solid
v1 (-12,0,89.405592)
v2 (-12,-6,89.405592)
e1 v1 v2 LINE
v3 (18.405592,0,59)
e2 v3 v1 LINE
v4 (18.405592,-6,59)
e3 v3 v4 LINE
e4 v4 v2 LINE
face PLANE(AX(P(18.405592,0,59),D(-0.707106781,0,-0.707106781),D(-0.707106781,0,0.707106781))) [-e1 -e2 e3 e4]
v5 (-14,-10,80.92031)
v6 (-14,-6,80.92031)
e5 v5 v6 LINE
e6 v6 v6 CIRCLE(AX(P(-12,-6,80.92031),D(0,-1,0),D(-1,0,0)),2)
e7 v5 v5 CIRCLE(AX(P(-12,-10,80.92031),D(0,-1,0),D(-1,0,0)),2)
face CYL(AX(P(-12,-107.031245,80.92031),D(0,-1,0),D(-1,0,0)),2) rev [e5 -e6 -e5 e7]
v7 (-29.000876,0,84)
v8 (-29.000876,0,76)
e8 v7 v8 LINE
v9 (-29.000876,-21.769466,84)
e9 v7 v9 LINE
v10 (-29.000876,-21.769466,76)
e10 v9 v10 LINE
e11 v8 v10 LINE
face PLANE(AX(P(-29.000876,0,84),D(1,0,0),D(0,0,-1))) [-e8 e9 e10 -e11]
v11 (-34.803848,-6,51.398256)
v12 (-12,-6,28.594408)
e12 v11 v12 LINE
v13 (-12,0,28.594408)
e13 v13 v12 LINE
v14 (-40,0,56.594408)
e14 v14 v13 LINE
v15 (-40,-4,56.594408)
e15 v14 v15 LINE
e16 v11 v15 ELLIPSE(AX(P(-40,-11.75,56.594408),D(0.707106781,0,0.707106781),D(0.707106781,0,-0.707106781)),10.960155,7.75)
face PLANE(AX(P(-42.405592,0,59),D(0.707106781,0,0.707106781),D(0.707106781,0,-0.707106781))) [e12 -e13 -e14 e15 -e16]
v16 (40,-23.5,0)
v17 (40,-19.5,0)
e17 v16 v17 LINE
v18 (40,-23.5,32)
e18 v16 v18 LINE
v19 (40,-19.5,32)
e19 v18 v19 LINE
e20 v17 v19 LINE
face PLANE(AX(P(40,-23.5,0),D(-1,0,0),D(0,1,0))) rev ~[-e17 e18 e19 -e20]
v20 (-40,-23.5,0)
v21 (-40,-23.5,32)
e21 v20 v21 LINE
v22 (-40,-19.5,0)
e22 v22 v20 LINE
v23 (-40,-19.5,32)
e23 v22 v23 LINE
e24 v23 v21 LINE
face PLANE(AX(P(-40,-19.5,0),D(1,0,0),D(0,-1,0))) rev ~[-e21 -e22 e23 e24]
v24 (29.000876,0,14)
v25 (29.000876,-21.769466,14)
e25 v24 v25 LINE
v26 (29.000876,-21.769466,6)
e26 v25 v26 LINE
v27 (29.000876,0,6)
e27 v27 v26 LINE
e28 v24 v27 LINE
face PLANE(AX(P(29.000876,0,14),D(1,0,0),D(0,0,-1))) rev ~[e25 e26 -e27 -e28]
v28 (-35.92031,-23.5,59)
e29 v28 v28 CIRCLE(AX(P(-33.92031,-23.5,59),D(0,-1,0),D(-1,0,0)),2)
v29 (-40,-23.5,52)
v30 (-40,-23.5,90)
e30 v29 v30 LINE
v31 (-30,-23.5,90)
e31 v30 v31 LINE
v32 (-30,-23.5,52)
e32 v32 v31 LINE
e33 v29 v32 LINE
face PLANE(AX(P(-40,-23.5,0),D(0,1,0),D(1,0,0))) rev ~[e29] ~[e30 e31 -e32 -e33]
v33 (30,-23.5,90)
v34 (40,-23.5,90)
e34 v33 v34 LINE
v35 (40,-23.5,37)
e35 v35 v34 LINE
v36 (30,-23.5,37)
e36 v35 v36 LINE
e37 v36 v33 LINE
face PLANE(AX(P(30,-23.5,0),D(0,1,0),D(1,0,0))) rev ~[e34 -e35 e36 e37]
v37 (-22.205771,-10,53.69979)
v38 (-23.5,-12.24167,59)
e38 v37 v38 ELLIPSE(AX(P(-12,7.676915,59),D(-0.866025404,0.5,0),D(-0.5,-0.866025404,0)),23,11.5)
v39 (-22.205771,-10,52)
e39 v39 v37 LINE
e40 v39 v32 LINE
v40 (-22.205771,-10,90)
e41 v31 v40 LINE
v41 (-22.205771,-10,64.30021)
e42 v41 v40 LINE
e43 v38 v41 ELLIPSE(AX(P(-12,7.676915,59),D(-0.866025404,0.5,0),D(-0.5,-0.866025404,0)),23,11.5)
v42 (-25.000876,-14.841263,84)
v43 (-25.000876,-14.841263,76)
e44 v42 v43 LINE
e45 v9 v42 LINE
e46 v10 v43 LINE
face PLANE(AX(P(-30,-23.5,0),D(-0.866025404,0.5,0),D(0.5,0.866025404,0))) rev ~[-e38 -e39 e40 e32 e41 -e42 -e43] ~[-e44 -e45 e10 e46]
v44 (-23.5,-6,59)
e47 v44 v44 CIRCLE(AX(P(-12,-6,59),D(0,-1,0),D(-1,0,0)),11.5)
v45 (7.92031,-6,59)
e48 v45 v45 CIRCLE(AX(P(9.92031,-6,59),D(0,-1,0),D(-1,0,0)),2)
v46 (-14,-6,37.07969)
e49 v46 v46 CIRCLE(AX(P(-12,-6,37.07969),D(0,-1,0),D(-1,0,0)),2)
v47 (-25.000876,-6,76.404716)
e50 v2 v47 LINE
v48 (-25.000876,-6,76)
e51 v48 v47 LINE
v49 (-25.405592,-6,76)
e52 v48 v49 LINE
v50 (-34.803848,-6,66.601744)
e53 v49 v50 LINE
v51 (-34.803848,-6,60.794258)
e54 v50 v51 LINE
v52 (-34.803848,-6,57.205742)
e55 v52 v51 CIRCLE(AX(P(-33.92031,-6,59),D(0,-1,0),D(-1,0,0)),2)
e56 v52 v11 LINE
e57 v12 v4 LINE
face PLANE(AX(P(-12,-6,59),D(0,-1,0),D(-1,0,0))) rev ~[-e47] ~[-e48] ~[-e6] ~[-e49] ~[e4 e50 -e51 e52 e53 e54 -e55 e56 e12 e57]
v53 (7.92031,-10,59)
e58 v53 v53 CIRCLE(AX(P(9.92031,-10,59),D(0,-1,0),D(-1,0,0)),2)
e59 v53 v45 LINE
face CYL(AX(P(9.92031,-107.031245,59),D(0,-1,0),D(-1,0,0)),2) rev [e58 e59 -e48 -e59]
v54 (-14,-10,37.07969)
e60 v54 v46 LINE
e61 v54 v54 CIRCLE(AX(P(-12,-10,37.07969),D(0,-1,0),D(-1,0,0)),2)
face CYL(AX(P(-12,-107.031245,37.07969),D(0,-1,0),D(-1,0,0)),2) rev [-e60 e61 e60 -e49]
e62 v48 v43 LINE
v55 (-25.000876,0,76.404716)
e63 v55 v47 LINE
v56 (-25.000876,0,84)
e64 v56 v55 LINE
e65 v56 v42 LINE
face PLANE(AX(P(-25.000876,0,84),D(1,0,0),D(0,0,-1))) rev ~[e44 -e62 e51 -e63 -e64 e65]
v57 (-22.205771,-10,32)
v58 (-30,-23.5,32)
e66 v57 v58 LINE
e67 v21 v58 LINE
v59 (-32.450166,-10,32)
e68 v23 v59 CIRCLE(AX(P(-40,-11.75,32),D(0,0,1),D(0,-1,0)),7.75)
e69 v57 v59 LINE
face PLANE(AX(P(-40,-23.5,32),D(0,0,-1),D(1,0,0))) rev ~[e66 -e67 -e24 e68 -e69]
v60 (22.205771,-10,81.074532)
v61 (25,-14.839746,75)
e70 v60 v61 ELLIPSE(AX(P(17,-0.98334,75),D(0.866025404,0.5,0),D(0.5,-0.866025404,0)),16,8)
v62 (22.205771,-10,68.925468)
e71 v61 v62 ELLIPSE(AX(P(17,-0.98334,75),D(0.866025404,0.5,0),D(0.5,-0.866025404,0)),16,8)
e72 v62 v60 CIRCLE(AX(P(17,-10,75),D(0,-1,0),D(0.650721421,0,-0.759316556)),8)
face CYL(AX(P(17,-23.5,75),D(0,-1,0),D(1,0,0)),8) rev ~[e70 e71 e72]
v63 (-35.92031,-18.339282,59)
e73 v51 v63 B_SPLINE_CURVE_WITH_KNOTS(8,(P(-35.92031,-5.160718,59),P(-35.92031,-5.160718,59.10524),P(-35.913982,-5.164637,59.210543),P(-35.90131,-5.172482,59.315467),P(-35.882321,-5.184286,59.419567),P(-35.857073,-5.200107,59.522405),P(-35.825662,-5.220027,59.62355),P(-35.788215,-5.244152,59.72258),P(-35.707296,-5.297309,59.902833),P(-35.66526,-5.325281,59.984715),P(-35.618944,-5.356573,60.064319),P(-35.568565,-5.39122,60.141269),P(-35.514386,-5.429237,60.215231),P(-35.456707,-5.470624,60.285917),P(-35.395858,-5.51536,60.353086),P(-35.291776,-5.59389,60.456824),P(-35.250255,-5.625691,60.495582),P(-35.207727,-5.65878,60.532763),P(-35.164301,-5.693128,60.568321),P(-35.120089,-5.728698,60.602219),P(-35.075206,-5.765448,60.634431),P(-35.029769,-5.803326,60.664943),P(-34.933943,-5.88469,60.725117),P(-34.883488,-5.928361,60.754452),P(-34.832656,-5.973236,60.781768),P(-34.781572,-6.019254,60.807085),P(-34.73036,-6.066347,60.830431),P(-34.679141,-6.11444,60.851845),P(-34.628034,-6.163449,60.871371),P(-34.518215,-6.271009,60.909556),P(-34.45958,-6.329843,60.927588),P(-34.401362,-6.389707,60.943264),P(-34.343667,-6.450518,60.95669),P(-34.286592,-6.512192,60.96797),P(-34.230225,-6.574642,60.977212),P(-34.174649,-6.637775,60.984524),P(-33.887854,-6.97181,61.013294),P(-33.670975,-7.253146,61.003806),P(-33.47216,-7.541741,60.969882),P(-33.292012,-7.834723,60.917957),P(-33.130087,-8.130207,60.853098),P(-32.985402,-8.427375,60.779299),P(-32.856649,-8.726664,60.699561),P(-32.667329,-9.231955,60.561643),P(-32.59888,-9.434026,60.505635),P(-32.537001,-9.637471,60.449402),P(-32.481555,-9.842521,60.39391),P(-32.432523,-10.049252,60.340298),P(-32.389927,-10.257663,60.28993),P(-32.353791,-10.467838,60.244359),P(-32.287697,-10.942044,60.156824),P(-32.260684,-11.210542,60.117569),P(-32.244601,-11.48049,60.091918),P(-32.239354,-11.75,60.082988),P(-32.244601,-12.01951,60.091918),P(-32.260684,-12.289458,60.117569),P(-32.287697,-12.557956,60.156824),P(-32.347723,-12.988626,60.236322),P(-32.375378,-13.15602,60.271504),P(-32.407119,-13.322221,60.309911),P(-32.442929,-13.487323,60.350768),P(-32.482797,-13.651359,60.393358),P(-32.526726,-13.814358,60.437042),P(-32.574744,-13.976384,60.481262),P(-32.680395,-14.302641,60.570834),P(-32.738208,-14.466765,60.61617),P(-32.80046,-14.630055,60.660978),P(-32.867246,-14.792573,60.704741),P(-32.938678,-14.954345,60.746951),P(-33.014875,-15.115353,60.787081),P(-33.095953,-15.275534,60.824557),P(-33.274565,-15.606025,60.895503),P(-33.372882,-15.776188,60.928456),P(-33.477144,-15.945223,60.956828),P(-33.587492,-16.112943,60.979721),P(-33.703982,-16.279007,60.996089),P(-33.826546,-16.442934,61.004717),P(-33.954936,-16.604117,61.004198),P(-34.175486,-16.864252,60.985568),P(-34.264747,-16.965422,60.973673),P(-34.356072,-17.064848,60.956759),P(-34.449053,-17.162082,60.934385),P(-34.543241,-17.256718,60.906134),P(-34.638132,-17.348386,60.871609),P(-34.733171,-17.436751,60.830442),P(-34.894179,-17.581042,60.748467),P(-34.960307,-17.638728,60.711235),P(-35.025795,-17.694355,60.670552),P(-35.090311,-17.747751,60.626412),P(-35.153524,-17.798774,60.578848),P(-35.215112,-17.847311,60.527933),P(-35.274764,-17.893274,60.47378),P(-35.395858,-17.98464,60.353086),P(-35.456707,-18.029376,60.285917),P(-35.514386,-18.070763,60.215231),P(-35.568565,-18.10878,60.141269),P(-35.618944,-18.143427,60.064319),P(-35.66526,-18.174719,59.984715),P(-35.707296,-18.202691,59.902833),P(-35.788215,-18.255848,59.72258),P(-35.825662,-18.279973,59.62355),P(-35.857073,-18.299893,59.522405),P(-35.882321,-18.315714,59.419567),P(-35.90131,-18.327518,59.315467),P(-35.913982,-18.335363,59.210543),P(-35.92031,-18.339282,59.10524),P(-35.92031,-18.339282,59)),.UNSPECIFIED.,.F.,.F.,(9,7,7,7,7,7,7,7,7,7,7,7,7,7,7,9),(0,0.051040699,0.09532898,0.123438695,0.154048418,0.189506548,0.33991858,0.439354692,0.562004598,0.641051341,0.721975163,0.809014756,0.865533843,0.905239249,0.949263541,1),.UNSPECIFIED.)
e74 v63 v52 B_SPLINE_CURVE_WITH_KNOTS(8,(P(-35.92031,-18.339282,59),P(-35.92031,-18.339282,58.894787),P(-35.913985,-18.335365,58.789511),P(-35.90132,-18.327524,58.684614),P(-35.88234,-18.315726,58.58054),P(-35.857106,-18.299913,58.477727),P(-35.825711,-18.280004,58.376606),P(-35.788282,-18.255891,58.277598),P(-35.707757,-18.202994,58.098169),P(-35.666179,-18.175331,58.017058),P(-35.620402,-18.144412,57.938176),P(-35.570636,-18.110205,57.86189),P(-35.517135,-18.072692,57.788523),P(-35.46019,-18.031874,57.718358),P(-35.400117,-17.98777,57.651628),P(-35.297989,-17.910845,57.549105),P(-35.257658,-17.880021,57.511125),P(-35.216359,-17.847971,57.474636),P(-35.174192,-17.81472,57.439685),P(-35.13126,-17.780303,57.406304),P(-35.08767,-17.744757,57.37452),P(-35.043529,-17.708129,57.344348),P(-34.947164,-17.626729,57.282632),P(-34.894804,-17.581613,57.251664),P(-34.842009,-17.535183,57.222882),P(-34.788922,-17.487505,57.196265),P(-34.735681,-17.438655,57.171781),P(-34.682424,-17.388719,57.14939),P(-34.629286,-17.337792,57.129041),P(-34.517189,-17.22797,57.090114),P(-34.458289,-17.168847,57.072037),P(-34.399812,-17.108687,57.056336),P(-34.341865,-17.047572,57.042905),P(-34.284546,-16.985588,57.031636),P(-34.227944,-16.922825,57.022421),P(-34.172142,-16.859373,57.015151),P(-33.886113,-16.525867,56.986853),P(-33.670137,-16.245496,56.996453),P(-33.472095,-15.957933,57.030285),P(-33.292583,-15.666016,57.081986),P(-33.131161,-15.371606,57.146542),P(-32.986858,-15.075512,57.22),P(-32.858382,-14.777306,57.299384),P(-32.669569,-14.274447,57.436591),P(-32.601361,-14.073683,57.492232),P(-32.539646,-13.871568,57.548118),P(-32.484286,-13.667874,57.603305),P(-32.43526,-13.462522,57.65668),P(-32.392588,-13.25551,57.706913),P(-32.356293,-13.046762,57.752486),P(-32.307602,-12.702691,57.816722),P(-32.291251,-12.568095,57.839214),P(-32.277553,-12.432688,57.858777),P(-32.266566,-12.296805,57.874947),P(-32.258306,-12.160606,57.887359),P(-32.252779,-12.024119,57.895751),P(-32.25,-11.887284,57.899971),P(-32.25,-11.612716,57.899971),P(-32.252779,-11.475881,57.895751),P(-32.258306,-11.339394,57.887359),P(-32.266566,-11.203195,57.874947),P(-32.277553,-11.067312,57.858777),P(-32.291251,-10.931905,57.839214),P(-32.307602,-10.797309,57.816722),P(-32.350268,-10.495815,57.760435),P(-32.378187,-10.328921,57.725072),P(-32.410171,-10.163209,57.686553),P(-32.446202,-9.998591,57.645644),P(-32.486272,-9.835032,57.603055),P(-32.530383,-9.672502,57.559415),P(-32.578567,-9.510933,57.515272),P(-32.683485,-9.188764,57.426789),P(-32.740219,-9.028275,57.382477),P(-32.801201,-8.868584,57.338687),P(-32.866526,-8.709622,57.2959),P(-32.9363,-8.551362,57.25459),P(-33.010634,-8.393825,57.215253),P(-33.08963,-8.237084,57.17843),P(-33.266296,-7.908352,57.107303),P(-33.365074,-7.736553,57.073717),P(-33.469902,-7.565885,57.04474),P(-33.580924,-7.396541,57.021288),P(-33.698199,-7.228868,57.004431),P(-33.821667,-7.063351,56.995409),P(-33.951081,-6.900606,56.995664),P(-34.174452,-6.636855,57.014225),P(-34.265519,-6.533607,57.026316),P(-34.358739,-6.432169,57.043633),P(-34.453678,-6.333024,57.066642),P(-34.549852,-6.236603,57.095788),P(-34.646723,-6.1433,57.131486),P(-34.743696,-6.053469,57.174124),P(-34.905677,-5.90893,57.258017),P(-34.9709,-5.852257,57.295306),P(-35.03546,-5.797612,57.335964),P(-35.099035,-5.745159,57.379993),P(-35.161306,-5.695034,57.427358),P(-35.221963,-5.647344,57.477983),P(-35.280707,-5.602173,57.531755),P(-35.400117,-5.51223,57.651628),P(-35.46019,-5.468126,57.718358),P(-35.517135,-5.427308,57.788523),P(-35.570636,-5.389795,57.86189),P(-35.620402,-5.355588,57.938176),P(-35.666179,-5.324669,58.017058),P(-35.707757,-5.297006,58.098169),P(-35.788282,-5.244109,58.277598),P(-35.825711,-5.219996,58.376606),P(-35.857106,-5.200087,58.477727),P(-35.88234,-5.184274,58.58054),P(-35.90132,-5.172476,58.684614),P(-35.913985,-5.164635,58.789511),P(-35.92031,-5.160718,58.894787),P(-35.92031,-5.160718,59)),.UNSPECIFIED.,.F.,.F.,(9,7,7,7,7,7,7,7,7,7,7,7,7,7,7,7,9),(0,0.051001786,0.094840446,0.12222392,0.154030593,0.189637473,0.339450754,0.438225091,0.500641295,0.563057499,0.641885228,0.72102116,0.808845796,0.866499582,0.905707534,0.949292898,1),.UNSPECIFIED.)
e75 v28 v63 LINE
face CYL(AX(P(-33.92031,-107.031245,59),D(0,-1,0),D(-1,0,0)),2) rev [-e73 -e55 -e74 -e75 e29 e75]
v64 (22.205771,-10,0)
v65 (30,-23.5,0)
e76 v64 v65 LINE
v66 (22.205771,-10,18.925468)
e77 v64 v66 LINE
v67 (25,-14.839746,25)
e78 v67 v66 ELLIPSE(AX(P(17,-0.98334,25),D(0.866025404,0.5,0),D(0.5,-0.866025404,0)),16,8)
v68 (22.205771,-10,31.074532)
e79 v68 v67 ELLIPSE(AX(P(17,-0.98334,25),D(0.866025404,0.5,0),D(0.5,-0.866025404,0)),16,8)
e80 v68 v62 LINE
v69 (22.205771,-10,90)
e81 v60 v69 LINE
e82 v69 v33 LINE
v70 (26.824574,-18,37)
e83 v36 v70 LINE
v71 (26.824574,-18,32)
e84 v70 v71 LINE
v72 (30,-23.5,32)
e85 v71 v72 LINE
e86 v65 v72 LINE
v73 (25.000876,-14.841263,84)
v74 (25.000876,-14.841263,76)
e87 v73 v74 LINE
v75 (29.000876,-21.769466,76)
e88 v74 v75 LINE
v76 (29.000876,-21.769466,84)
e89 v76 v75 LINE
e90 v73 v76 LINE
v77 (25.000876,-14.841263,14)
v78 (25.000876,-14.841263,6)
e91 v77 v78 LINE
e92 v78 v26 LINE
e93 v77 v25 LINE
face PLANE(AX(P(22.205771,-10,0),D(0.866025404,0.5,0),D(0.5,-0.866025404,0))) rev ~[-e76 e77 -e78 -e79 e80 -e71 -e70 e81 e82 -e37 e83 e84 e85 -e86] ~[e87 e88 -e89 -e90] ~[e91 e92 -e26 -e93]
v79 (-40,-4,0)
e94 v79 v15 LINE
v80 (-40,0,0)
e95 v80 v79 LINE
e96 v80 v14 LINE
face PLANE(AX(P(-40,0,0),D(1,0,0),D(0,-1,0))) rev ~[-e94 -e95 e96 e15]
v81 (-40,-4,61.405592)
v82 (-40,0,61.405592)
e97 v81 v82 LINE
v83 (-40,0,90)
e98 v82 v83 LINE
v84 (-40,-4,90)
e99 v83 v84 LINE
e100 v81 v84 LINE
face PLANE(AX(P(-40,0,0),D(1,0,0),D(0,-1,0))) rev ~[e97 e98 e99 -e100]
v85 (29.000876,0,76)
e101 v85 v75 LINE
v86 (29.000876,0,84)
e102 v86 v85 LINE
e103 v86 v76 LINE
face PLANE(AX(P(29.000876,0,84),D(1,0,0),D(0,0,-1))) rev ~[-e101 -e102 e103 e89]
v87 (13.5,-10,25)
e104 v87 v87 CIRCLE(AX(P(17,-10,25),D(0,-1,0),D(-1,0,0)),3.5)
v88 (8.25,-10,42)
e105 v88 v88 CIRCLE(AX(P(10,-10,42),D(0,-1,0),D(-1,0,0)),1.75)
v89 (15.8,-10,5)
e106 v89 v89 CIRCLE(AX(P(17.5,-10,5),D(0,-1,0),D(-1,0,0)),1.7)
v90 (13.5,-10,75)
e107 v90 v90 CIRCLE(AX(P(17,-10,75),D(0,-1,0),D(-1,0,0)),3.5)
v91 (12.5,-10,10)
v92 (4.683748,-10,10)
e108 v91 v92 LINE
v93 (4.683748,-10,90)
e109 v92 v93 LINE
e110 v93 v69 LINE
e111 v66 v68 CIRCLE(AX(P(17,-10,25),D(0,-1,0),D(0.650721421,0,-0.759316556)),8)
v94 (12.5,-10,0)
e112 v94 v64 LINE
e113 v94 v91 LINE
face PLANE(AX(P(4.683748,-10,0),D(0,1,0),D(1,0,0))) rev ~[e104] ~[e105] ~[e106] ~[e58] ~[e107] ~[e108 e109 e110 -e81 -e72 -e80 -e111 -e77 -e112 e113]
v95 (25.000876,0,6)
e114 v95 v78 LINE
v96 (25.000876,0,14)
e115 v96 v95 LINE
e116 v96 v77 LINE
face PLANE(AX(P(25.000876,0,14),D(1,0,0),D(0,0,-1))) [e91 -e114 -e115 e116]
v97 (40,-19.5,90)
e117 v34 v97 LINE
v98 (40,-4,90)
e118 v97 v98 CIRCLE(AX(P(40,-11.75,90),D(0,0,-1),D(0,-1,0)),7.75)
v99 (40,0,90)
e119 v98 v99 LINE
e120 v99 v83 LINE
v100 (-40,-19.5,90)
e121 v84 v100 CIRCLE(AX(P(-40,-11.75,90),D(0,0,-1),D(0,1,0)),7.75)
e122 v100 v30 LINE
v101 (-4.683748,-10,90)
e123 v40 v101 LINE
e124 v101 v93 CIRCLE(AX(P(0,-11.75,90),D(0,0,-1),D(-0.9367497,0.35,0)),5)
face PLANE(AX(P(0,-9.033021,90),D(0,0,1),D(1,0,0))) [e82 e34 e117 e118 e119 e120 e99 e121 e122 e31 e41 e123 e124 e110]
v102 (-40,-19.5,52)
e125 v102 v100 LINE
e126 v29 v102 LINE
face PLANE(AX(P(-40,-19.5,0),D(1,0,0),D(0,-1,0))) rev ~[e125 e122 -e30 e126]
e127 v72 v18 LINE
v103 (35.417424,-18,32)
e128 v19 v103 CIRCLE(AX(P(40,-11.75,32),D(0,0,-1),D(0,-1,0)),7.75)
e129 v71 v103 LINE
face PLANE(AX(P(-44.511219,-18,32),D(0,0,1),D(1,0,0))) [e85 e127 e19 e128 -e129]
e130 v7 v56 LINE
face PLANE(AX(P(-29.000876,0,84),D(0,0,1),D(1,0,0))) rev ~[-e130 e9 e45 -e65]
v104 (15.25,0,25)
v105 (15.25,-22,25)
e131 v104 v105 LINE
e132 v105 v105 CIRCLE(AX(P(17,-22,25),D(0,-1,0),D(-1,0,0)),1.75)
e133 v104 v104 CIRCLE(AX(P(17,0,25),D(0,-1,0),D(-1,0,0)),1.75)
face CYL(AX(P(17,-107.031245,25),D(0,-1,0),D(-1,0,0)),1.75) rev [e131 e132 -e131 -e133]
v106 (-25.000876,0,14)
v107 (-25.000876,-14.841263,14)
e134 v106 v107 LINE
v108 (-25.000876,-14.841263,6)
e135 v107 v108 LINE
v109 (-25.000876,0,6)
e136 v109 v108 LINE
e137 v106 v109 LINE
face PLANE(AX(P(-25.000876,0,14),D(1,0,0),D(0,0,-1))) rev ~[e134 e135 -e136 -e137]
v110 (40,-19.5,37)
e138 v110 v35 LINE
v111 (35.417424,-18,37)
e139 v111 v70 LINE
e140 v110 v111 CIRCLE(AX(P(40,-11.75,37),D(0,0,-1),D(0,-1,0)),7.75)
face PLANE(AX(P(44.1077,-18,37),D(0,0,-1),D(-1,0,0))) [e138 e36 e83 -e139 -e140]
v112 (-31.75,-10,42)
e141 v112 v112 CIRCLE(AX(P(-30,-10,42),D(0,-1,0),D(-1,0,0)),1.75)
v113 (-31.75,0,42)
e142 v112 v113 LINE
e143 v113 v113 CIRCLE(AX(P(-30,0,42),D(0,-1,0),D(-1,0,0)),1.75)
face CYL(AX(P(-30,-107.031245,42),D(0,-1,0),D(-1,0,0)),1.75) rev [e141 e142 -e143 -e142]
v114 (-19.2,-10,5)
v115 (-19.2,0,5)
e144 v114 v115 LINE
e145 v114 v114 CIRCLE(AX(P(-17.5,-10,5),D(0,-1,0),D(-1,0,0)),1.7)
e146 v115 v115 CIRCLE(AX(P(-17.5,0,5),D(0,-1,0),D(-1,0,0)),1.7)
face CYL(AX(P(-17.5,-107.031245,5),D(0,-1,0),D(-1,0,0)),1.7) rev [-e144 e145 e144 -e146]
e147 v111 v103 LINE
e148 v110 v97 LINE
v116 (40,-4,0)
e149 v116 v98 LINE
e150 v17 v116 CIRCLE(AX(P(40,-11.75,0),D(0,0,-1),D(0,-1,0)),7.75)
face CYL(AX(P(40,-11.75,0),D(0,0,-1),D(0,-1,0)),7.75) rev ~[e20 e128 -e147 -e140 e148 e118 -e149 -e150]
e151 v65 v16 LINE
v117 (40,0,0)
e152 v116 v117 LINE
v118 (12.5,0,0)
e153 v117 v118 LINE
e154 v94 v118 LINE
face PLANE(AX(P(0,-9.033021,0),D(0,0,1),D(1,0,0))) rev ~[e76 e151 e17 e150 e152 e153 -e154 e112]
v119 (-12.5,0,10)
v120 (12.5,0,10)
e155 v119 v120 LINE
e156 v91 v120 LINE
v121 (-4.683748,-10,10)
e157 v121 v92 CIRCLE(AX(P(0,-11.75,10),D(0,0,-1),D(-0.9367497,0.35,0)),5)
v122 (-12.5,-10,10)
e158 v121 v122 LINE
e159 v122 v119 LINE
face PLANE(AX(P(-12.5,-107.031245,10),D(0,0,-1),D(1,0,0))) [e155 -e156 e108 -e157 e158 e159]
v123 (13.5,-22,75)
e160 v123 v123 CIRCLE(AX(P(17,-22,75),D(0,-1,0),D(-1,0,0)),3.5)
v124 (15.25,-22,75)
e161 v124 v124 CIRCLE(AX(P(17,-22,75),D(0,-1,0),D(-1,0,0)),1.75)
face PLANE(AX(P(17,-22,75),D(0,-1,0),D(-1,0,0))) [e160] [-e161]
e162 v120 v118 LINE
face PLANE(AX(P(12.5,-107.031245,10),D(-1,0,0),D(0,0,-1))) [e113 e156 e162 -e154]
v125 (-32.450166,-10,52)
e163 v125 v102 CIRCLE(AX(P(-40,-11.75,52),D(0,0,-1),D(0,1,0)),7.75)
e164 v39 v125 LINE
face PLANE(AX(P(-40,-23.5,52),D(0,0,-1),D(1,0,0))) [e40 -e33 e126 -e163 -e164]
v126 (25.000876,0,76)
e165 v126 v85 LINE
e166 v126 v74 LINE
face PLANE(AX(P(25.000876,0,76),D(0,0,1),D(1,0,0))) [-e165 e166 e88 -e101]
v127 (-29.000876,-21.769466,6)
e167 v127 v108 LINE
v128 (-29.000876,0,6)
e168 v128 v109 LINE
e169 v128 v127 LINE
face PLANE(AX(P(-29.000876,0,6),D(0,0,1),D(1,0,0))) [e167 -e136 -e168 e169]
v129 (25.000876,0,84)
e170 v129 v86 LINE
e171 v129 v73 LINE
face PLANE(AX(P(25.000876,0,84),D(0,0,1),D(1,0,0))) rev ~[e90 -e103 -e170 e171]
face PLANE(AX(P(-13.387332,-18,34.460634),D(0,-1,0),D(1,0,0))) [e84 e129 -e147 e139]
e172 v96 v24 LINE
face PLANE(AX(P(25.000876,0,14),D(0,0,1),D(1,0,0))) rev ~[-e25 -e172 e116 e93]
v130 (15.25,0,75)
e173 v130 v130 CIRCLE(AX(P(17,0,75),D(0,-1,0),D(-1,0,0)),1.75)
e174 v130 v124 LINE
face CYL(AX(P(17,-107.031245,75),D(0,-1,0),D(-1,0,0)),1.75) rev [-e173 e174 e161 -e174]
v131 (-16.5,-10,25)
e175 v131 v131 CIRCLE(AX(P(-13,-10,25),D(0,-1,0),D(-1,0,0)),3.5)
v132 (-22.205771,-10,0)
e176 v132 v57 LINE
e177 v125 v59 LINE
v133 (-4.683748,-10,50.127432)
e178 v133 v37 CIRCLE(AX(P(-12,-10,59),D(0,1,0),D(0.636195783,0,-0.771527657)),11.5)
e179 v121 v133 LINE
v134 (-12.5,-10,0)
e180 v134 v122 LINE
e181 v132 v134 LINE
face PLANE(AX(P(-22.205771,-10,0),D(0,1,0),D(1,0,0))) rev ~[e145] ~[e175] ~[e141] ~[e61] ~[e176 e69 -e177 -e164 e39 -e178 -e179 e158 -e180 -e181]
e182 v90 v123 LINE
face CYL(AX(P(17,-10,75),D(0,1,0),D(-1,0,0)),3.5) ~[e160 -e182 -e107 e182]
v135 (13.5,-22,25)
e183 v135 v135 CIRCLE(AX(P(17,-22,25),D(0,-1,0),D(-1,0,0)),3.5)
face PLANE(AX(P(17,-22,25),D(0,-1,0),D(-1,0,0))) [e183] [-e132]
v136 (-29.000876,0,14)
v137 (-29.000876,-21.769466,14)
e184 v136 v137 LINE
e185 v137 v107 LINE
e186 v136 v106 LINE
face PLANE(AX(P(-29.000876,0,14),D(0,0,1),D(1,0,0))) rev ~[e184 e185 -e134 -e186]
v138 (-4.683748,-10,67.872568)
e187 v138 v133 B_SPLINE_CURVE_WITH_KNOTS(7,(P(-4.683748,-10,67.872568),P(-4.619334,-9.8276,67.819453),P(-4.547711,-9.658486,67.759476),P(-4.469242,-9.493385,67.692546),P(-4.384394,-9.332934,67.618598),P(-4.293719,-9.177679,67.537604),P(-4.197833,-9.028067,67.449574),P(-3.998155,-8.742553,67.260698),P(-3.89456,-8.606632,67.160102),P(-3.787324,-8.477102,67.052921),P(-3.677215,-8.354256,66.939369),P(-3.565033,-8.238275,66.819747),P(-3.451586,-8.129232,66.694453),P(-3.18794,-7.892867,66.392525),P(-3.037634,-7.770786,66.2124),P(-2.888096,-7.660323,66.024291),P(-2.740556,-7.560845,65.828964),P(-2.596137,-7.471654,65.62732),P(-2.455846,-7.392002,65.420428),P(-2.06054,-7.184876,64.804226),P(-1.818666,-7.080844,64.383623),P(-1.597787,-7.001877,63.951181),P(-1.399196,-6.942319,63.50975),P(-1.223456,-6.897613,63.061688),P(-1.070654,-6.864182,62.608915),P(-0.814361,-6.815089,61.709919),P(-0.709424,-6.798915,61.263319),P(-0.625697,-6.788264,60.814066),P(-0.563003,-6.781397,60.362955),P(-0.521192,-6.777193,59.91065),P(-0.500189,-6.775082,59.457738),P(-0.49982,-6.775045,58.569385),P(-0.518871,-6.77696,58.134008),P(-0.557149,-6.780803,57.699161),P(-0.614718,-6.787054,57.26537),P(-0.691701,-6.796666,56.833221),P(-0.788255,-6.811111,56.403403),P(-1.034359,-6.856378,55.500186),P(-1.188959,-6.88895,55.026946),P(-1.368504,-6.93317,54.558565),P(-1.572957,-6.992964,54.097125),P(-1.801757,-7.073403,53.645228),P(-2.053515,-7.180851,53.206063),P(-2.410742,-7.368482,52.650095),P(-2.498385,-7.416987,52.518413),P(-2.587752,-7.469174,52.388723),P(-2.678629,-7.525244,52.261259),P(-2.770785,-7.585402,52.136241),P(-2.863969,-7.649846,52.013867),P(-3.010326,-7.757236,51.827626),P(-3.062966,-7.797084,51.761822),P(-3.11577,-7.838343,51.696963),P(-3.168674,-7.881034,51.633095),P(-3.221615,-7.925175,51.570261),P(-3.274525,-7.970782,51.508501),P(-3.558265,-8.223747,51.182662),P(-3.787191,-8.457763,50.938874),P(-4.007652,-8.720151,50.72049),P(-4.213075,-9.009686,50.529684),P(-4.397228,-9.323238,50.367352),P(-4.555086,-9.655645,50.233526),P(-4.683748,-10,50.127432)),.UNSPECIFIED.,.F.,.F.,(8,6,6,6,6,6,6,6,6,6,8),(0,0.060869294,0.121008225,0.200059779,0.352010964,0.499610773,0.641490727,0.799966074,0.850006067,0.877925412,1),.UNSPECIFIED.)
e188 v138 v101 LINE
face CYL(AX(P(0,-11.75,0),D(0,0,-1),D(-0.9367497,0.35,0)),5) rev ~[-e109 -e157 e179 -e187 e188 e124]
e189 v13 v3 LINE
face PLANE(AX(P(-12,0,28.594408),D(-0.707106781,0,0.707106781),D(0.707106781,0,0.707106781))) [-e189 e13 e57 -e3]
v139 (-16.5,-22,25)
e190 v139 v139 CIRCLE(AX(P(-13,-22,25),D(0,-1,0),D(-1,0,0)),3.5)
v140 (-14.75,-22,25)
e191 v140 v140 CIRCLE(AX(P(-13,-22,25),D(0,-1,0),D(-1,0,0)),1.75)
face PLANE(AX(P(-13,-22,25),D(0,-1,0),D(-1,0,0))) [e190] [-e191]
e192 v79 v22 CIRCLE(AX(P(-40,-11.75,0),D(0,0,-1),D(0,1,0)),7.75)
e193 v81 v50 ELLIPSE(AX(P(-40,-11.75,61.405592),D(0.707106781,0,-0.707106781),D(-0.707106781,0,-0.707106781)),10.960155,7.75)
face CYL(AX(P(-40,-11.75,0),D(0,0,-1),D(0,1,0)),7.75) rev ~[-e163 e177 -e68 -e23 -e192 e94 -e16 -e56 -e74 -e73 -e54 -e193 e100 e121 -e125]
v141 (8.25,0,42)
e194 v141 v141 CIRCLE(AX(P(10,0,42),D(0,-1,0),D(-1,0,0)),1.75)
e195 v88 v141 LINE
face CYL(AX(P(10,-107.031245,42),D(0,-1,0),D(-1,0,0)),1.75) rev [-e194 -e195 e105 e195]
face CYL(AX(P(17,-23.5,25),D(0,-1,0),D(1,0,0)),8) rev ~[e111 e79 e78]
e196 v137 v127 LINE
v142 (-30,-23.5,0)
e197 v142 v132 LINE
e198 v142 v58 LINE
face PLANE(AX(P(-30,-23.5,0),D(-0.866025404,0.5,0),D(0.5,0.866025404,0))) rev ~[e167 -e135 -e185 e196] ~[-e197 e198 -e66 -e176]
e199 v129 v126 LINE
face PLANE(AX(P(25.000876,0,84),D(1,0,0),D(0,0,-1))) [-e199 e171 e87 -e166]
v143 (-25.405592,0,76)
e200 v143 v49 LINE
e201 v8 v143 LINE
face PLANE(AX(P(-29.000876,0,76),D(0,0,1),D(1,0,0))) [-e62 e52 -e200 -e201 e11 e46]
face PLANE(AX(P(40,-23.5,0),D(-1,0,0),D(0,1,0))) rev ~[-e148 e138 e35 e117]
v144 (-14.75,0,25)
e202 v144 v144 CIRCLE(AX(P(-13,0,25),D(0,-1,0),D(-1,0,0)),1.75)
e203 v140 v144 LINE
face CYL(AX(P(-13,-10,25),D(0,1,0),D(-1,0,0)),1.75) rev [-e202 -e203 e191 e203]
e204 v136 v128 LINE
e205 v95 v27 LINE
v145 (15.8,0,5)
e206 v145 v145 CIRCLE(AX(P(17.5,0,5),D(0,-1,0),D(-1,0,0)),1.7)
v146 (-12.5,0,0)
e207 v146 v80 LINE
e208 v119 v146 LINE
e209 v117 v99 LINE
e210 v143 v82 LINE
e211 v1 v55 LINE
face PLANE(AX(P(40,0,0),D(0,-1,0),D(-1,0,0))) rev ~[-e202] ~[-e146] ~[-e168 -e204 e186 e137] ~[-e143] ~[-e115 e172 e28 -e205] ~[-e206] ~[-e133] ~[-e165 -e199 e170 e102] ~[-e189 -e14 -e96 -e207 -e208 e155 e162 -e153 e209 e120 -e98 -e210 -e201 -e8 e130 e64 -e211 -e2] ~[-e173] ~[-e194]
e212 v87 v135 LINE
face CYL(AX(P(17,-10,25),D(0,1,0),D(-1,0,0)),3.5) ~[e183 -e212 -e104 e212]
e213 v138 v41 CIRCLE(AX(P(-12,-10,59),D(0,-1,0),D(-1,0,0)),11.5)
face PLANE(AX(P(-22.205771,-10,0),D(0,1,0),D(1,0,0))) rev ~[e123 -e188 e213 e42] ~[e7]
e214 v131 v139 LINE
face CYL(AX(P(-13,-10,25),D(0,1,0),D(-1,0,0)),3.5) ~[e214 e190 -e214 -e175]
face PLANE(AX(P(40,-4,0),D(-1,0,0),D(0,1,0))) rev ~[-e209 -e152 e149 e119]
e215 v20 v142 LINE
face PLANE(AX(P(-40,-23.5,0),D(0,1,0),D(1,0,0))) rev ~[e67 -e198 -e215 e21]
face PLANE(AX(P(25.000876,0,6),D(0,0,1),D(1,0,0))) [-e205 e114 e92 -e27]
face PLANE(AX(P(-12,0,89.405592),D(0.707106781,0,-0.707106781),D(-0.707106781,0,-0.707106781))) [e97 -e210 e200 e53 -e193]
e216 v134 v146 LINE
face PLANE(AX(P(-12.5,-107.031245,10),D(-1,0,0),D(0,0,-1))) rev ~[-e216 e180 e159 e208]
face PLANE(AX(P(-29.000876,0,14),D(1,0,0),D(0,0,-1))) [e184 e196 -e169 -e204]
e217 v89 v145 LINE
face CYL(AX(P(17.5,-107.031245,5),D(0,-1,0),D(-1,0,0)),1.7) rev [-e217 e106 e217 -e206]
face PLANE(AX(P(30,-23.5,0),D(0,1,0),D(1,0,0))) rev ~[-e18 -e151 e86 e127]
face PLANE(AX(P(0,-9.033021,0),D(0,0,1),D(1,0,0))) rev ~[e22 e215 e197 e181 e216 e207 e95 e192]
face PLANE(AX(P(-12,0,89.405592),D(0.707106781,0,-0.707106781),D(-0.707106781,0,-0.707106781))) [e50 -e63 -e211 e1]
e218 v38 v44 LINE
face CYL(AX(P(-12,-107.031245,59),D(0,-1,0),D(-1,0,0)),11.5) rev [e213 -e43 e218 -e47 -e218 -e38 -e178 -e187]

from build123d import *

# Parameters (mm, degrees)
RESSALTO_EXTRUS_O1_DEPTH   = 90
ESBO_O2_R                  = 5
CORTE_EXTRUS_O1_DEPTH      = 6
CORTE_EXTRUS_O2_DEPTH      = 101.031245119
CORTE_EXTRUS_O2_DEPTH_BACK = 101.031245119
ESBO_O3_R                  = 2
ESBO_O3_R_2                = 11.5
ESBO_O3_R_3                = 1.75
ESBO_O3_R_4                = 1.7
ESBO_O3_W                  = 25
ESBO_O3_H                  = 10
CORTE_EXTRUS_O4_START      = 8
ESBO_O4_W                  = 22.305447344
ESBO_O4_H                  = 5
ESBO_O4_W_2                = 48.791448981
CORTE_EXTRUS_O4_DEPTH      = 12
CORTE_EXTRUS_O7_REACH      = 103.253
ESBO_O6_R                  = 8
ESBO_O6_W                  = 20
ESBO_O6_H                  = 20
ESBO_O7_W                  = 4
ESBO_O7_H                  = 8
CORTE_EXTRUS_O8_DEPTH      = 102.253395156
ESBO_O11_R                 = 3.5
ESBO_O11_R_2               = 1.75
RESSALTO_EXTRUS_O3_DEPTH   = 12


with BuildPart() as part:
    # Esboço1 → Ressalto-extrusão1 (new body)
    with BuildSketch(Plane.XY):
        with BuildLine():
            Line((40, 0), (-40, 0))
            Line((-40, 0), (-40, -4))
            ThreePointArc((-40, -4), (-32.25, -11.75), (-40, -19.5))
            Line((-40, -19.5), (-40, -23.5))
            Line((-40, -23.5), (-30, -23.5))
            Line((-30, -23.5), (-22.205771366, -10))
            Line((-22.205771366, -10), (-4.683748499, -10))
            ThreePointArc((-4.683748499, -10), (0, -6.75), (4.683748499, -10))
            Line((4.683748499, -10), (22.205771366, -10))
            Line((22.205771366, -10), (30, -23.5))
            Line((30, -23.5), (40, -23.5))
            Line((40, -23.5), (40, -19.5))
            ThreePointArc((40, -19.5), (32.25, -11.75), (40, -4))
            Line((40, -4), (40, 0))
        make_face()
    extrude(amount=RESSALTO_EXTRUS_O1_DEPTH)

    # Esboço2 → Corte-extrusão1 (cut)
    with BuildSketch(Plane(origin=(0, 0, 0), x_dir=(1, 0, 0), z_dir=(0, 1, 0))):
        Polygon((-42.405591591, -59), (-12, -28.594408409), (18.405591591, -59), (-12, -89.405591591), align=None)
        with Locations(Location((-12, -59, 0), (0, 0, 270))):
            Circle(ESBO_O2_R, mode=Mode.SUBTRACT)
    extrude(amount=-CORTE_EXTRUS_O1_DEPTH, mode=Mode.SUBTRACT)

    # Esboço3 → Corte-extrusão2 (cut, two sides: drawn at the far end of the back side and taken through both)
    with BuildSketch(Plane(origin=(0, -6, 0), x_dir=(1, 0, 0), z_dir=(0, 1, 0)).offset(-CORTE_EXTRUS_O2_DEPTH_BACK)):
        with Locations(Location((-12, -37.079689783, 0), (0, 0, 180))):
            Circle(ESBO_O3_R)
        with Locations(Location((9.920310217, -59, 0), (0, 0, 180))):
            Circle(ESBO_O3_R)
        with Locations(Location((-12, -80.920310217, 0), (0, 0, 180))):
            Circle(ESBO_O3_R)
        with Locations(Location((-33.920310217, -59, 0), (0, 0, 180))):
            Circle(ESBO_O3_R)
        with Locations(Location((-12, -59, 0), (0, 0, 180))):
            Circle(ESBO_O3_R_2)
        with Locations(Location((-30, -42, 0), (0, 0, 180))):
            Circle(ESBO_O3_R_3)
        with Locations(Location((10, -42, 0), (0, 0, 180))):
            Circle(ESBO_O3_R_3)
        with Locations(Location((-17.5, -5, 0), (0, 0, 180))):
            Circle(ESBO_O3_R_4)
        with Locations(Location((17.5, -5, 0), (0, 0, 180))):
            Circle(ESBO_O3_R_4)
        with Locations(Location((17, -75, 0), (0, 0, 180))):
            Circle(ESBO_O3_R_3)
        with Locations(Location((-13, -25, 0), (0, 0, 180))):
            Circle(ESBO_O3_R_3)
        with Locations(Location((17, -25, 0), (0, 0, 180))):
            Circle(ESBO_O3_R_3)
        with Locations((0, -5)):
            Rectangle(ESBO_O3_W, ESBO_O3_H)
    extrude(amount=CORTE_EXTRUS_O2_DEPTH + CORTE_EXTRUS_O2_DEPTH_BACK, mode=Mode.SUBTRACT)

    # Esboço4 → Corte-extrusão4 (cut)
    with BuildSketch(Plane.XZ.offset(10).offset(CORTE_EXTRUS_O4_START)):
        with BuildLine():
            Line((-13.998411754, 37), (-22.205771366, 37))
            Line((-22.205771366, 37), (-22.205771366, 32))
            Line((-22.205771366, 32), (-4.683748499, 32))
            Line((-4.683748499, 32), (-4.683748499, 37))
            Line((-4.683748499, 37), (-10.001588246, 37))
            ThreePointArc((-10.001588246, 37), (-12, 35.079689783), (-13.998411754, 37))
        make_face()
        with Locations((-33.358495038, 34.5)):
            Rectangle(ESBO_O4_W, ESBO_O4_H)
        with Locations((19.711975992, 34.5)):
            Rectangle(ESBO_O4_W_2, ESBO_O4_H)
    extrude(amount=CORTE_EXTRUS_O4_DEPTH, mode=Mode.SUBTRACT)

    # Corte-extrusão7: up to this face of the body (flat: up to its plane)
    corte_extrus_o7_end = Plane(part.part.faces().sort_by_distance((-13.702636596, -10, 79.456396835))[0])
    # Esboço6 → Corte-extrusão7 (cut, up to the picked face)
    with BuildSketch(Plane.XZ.offset(23.5), mode=Mode.PRIVATE) as corte_extrus_o7_sk1:
        with Locations((17, 75)):
            Circle(ESBO_O6_R)
    corte_extrus_o7_tool1 = split(extrude(corte_extrus_o7_sk1.sketch, amount=-CORTE_EXTRUS_O7_REACH, mode=Mode.PRIVATE), bisect_by=corte_extrus_o7_end, keep=Keep.BOTH, mode=Mode.PRIVATE)
    # Esboço6 → Corte-extrusão7 (cut, up to the picked face)
    with BuildSketch(Plane.XZ.offset(23.5), mode=Mode.PRIVATE) as corte_extrus_o7_sk2:
        with Locations((17, 25)):
            Circle(ESBO_O6_R)
    corte_extrus_o7_tool2 = split(extrude(corte_extrus_o7_sk2.sketch, amount=-CORTE_EXTRUS_O7_REACH, mode=Mode.PRIVATE), bisect_by=corte_extrus_o7_end, keep=Keep.BOTH, mode=Mode.PRIVATE)
    # Esboço6 → Corte-extrusão7 (cut, up to the picked face)
    with BuildSketch(Plane.XZ.offset(23.5), mode=Mode.PRIVATE) as corte_extrus_o7_sk3:
        with Locations((-13, 25)):
            Circle(ESBO_O6_R)
    corte_extrus_o7_tool3 = split(extrude(corte_extrus_o7_sk3.sketch, amount=-CORTE_EXTRUS_O7_REACH, mode=Mode.PRIVATE), bisect_by=corte_extrus_o7_end, keep=Keep.BOTH, mode=Mode.PRIVATE)
    # Esboço6 → Corte-extrusão7 (cut, up to the picked face)
    with BuildSketch(Plane.XZ.offset(23.5), mode=Mode.PRIVATE) as corte_extrus_o7_sk4:
        with Locations((-30, 42)):
            Rectangle(ESBO_O6_W, ESBO_O6_H)
    corte_extrus_o7_tool4 = split(extrude(corte_extrus_o7_sk4.sketch, amount=-CORTE_EXTRUS_O7_REACH, mode=Mode.PRIVATE), bisect_by=corte_extrus_o7_end, keep=Keep.BOTH, mode=Mode.PRIVATE)
    add(corte_extrus_o7_tool1.solids().sort_by(Axis((17, -23.5, 75), (0, 1, 0)))[0], mode=Mode.SUBTRACT)
    add(corte_extrus_o7_tool2.solids().sort_by(Axis((17, -23.5, 25), (0, 1, 0)))[0], mode=Mode.SUBTRACT)
    add(corte_extrus_o7_tool3.solids().sort_by(Axis((-13, -23.5, 25), (0, 1, 0)))[0], mode=Mode.SUBTRACT)
    add(corte_extrus_o7_tool4.solids().sort_by(Axis((-30, -23.5, 42), (0, 1, 0)))[0], mode=Mode.SUBTRACT)

    # Esboço7 → Corte-extrusão8 (cut, through all)
    with BuildSketch(Plane(origin=(0, 0, 0), x_dir=(1, 0, 0), z_dir=(0, 1, 0))):
        with Locations((27.000875928, -80)):
            Rectangle(ESBO_O7_W, ESBO_O7_H)
        with Locations((27.000875928, -10)):
            Rectangle(ESBO_O7_W, ESBO_O7_H)
        with Locations((-27.000875928, -10)):
            Rectangle(ESBO_O7_W, ESBO_O7_H)
        with Locations((-27.000875928, -80)):
            Rectangle(ESBO_O7_W, ESBO_O7_H)
    extrude(amount=-CORTE_EXTRUS_O8_DEPTH, mode=Mode.SUBTRACT)

    # Esboço11 → Ressalto-extrusão3 (add)
    # profile 1 of 3: a face of its own
    with BuildSketch(Plane.XZ.offset(10)):
        with Locations(Location((-13, 25, 0), (0, 0, 180))):
            Circle(ESBO_O11_R)
        with Locations(Location((-13, 25, 0), (0, 0, 180))):
            Circle(ESBO_O11_R_2, mode=Mode.SUBTRACT)
    # profile 2 of 3: a face of its own
    with BuildSketch(Plane.XZ.offset(10)):
        with Locations(Location((17, 25, 0), (0, 0, 180))):
            Circle(ESBO_O11_R)
        with Locations(Location((17, 25, 0), (0, 0, 180))):
            Circle(ESBO_O11_R_2, mode=Mode.SUBTRACT)
    # profile 3 of 3: a face of its own
    with BuildSketch(Plane.XZ.offset(10)):
        with Locations(Location((17, 75, 0), (0, 0, 180))):
            Circle(ESBO_O11_R)
        with Locations(Location((17, 75, 0), (0, 0, 180))):
            Circle(ESBO_O11_R_2, mode=Mode.SUBTRACT)
    extrude(amount=RESSALTO_EXTRUS_O3_DEPTH)


solid = part.part
